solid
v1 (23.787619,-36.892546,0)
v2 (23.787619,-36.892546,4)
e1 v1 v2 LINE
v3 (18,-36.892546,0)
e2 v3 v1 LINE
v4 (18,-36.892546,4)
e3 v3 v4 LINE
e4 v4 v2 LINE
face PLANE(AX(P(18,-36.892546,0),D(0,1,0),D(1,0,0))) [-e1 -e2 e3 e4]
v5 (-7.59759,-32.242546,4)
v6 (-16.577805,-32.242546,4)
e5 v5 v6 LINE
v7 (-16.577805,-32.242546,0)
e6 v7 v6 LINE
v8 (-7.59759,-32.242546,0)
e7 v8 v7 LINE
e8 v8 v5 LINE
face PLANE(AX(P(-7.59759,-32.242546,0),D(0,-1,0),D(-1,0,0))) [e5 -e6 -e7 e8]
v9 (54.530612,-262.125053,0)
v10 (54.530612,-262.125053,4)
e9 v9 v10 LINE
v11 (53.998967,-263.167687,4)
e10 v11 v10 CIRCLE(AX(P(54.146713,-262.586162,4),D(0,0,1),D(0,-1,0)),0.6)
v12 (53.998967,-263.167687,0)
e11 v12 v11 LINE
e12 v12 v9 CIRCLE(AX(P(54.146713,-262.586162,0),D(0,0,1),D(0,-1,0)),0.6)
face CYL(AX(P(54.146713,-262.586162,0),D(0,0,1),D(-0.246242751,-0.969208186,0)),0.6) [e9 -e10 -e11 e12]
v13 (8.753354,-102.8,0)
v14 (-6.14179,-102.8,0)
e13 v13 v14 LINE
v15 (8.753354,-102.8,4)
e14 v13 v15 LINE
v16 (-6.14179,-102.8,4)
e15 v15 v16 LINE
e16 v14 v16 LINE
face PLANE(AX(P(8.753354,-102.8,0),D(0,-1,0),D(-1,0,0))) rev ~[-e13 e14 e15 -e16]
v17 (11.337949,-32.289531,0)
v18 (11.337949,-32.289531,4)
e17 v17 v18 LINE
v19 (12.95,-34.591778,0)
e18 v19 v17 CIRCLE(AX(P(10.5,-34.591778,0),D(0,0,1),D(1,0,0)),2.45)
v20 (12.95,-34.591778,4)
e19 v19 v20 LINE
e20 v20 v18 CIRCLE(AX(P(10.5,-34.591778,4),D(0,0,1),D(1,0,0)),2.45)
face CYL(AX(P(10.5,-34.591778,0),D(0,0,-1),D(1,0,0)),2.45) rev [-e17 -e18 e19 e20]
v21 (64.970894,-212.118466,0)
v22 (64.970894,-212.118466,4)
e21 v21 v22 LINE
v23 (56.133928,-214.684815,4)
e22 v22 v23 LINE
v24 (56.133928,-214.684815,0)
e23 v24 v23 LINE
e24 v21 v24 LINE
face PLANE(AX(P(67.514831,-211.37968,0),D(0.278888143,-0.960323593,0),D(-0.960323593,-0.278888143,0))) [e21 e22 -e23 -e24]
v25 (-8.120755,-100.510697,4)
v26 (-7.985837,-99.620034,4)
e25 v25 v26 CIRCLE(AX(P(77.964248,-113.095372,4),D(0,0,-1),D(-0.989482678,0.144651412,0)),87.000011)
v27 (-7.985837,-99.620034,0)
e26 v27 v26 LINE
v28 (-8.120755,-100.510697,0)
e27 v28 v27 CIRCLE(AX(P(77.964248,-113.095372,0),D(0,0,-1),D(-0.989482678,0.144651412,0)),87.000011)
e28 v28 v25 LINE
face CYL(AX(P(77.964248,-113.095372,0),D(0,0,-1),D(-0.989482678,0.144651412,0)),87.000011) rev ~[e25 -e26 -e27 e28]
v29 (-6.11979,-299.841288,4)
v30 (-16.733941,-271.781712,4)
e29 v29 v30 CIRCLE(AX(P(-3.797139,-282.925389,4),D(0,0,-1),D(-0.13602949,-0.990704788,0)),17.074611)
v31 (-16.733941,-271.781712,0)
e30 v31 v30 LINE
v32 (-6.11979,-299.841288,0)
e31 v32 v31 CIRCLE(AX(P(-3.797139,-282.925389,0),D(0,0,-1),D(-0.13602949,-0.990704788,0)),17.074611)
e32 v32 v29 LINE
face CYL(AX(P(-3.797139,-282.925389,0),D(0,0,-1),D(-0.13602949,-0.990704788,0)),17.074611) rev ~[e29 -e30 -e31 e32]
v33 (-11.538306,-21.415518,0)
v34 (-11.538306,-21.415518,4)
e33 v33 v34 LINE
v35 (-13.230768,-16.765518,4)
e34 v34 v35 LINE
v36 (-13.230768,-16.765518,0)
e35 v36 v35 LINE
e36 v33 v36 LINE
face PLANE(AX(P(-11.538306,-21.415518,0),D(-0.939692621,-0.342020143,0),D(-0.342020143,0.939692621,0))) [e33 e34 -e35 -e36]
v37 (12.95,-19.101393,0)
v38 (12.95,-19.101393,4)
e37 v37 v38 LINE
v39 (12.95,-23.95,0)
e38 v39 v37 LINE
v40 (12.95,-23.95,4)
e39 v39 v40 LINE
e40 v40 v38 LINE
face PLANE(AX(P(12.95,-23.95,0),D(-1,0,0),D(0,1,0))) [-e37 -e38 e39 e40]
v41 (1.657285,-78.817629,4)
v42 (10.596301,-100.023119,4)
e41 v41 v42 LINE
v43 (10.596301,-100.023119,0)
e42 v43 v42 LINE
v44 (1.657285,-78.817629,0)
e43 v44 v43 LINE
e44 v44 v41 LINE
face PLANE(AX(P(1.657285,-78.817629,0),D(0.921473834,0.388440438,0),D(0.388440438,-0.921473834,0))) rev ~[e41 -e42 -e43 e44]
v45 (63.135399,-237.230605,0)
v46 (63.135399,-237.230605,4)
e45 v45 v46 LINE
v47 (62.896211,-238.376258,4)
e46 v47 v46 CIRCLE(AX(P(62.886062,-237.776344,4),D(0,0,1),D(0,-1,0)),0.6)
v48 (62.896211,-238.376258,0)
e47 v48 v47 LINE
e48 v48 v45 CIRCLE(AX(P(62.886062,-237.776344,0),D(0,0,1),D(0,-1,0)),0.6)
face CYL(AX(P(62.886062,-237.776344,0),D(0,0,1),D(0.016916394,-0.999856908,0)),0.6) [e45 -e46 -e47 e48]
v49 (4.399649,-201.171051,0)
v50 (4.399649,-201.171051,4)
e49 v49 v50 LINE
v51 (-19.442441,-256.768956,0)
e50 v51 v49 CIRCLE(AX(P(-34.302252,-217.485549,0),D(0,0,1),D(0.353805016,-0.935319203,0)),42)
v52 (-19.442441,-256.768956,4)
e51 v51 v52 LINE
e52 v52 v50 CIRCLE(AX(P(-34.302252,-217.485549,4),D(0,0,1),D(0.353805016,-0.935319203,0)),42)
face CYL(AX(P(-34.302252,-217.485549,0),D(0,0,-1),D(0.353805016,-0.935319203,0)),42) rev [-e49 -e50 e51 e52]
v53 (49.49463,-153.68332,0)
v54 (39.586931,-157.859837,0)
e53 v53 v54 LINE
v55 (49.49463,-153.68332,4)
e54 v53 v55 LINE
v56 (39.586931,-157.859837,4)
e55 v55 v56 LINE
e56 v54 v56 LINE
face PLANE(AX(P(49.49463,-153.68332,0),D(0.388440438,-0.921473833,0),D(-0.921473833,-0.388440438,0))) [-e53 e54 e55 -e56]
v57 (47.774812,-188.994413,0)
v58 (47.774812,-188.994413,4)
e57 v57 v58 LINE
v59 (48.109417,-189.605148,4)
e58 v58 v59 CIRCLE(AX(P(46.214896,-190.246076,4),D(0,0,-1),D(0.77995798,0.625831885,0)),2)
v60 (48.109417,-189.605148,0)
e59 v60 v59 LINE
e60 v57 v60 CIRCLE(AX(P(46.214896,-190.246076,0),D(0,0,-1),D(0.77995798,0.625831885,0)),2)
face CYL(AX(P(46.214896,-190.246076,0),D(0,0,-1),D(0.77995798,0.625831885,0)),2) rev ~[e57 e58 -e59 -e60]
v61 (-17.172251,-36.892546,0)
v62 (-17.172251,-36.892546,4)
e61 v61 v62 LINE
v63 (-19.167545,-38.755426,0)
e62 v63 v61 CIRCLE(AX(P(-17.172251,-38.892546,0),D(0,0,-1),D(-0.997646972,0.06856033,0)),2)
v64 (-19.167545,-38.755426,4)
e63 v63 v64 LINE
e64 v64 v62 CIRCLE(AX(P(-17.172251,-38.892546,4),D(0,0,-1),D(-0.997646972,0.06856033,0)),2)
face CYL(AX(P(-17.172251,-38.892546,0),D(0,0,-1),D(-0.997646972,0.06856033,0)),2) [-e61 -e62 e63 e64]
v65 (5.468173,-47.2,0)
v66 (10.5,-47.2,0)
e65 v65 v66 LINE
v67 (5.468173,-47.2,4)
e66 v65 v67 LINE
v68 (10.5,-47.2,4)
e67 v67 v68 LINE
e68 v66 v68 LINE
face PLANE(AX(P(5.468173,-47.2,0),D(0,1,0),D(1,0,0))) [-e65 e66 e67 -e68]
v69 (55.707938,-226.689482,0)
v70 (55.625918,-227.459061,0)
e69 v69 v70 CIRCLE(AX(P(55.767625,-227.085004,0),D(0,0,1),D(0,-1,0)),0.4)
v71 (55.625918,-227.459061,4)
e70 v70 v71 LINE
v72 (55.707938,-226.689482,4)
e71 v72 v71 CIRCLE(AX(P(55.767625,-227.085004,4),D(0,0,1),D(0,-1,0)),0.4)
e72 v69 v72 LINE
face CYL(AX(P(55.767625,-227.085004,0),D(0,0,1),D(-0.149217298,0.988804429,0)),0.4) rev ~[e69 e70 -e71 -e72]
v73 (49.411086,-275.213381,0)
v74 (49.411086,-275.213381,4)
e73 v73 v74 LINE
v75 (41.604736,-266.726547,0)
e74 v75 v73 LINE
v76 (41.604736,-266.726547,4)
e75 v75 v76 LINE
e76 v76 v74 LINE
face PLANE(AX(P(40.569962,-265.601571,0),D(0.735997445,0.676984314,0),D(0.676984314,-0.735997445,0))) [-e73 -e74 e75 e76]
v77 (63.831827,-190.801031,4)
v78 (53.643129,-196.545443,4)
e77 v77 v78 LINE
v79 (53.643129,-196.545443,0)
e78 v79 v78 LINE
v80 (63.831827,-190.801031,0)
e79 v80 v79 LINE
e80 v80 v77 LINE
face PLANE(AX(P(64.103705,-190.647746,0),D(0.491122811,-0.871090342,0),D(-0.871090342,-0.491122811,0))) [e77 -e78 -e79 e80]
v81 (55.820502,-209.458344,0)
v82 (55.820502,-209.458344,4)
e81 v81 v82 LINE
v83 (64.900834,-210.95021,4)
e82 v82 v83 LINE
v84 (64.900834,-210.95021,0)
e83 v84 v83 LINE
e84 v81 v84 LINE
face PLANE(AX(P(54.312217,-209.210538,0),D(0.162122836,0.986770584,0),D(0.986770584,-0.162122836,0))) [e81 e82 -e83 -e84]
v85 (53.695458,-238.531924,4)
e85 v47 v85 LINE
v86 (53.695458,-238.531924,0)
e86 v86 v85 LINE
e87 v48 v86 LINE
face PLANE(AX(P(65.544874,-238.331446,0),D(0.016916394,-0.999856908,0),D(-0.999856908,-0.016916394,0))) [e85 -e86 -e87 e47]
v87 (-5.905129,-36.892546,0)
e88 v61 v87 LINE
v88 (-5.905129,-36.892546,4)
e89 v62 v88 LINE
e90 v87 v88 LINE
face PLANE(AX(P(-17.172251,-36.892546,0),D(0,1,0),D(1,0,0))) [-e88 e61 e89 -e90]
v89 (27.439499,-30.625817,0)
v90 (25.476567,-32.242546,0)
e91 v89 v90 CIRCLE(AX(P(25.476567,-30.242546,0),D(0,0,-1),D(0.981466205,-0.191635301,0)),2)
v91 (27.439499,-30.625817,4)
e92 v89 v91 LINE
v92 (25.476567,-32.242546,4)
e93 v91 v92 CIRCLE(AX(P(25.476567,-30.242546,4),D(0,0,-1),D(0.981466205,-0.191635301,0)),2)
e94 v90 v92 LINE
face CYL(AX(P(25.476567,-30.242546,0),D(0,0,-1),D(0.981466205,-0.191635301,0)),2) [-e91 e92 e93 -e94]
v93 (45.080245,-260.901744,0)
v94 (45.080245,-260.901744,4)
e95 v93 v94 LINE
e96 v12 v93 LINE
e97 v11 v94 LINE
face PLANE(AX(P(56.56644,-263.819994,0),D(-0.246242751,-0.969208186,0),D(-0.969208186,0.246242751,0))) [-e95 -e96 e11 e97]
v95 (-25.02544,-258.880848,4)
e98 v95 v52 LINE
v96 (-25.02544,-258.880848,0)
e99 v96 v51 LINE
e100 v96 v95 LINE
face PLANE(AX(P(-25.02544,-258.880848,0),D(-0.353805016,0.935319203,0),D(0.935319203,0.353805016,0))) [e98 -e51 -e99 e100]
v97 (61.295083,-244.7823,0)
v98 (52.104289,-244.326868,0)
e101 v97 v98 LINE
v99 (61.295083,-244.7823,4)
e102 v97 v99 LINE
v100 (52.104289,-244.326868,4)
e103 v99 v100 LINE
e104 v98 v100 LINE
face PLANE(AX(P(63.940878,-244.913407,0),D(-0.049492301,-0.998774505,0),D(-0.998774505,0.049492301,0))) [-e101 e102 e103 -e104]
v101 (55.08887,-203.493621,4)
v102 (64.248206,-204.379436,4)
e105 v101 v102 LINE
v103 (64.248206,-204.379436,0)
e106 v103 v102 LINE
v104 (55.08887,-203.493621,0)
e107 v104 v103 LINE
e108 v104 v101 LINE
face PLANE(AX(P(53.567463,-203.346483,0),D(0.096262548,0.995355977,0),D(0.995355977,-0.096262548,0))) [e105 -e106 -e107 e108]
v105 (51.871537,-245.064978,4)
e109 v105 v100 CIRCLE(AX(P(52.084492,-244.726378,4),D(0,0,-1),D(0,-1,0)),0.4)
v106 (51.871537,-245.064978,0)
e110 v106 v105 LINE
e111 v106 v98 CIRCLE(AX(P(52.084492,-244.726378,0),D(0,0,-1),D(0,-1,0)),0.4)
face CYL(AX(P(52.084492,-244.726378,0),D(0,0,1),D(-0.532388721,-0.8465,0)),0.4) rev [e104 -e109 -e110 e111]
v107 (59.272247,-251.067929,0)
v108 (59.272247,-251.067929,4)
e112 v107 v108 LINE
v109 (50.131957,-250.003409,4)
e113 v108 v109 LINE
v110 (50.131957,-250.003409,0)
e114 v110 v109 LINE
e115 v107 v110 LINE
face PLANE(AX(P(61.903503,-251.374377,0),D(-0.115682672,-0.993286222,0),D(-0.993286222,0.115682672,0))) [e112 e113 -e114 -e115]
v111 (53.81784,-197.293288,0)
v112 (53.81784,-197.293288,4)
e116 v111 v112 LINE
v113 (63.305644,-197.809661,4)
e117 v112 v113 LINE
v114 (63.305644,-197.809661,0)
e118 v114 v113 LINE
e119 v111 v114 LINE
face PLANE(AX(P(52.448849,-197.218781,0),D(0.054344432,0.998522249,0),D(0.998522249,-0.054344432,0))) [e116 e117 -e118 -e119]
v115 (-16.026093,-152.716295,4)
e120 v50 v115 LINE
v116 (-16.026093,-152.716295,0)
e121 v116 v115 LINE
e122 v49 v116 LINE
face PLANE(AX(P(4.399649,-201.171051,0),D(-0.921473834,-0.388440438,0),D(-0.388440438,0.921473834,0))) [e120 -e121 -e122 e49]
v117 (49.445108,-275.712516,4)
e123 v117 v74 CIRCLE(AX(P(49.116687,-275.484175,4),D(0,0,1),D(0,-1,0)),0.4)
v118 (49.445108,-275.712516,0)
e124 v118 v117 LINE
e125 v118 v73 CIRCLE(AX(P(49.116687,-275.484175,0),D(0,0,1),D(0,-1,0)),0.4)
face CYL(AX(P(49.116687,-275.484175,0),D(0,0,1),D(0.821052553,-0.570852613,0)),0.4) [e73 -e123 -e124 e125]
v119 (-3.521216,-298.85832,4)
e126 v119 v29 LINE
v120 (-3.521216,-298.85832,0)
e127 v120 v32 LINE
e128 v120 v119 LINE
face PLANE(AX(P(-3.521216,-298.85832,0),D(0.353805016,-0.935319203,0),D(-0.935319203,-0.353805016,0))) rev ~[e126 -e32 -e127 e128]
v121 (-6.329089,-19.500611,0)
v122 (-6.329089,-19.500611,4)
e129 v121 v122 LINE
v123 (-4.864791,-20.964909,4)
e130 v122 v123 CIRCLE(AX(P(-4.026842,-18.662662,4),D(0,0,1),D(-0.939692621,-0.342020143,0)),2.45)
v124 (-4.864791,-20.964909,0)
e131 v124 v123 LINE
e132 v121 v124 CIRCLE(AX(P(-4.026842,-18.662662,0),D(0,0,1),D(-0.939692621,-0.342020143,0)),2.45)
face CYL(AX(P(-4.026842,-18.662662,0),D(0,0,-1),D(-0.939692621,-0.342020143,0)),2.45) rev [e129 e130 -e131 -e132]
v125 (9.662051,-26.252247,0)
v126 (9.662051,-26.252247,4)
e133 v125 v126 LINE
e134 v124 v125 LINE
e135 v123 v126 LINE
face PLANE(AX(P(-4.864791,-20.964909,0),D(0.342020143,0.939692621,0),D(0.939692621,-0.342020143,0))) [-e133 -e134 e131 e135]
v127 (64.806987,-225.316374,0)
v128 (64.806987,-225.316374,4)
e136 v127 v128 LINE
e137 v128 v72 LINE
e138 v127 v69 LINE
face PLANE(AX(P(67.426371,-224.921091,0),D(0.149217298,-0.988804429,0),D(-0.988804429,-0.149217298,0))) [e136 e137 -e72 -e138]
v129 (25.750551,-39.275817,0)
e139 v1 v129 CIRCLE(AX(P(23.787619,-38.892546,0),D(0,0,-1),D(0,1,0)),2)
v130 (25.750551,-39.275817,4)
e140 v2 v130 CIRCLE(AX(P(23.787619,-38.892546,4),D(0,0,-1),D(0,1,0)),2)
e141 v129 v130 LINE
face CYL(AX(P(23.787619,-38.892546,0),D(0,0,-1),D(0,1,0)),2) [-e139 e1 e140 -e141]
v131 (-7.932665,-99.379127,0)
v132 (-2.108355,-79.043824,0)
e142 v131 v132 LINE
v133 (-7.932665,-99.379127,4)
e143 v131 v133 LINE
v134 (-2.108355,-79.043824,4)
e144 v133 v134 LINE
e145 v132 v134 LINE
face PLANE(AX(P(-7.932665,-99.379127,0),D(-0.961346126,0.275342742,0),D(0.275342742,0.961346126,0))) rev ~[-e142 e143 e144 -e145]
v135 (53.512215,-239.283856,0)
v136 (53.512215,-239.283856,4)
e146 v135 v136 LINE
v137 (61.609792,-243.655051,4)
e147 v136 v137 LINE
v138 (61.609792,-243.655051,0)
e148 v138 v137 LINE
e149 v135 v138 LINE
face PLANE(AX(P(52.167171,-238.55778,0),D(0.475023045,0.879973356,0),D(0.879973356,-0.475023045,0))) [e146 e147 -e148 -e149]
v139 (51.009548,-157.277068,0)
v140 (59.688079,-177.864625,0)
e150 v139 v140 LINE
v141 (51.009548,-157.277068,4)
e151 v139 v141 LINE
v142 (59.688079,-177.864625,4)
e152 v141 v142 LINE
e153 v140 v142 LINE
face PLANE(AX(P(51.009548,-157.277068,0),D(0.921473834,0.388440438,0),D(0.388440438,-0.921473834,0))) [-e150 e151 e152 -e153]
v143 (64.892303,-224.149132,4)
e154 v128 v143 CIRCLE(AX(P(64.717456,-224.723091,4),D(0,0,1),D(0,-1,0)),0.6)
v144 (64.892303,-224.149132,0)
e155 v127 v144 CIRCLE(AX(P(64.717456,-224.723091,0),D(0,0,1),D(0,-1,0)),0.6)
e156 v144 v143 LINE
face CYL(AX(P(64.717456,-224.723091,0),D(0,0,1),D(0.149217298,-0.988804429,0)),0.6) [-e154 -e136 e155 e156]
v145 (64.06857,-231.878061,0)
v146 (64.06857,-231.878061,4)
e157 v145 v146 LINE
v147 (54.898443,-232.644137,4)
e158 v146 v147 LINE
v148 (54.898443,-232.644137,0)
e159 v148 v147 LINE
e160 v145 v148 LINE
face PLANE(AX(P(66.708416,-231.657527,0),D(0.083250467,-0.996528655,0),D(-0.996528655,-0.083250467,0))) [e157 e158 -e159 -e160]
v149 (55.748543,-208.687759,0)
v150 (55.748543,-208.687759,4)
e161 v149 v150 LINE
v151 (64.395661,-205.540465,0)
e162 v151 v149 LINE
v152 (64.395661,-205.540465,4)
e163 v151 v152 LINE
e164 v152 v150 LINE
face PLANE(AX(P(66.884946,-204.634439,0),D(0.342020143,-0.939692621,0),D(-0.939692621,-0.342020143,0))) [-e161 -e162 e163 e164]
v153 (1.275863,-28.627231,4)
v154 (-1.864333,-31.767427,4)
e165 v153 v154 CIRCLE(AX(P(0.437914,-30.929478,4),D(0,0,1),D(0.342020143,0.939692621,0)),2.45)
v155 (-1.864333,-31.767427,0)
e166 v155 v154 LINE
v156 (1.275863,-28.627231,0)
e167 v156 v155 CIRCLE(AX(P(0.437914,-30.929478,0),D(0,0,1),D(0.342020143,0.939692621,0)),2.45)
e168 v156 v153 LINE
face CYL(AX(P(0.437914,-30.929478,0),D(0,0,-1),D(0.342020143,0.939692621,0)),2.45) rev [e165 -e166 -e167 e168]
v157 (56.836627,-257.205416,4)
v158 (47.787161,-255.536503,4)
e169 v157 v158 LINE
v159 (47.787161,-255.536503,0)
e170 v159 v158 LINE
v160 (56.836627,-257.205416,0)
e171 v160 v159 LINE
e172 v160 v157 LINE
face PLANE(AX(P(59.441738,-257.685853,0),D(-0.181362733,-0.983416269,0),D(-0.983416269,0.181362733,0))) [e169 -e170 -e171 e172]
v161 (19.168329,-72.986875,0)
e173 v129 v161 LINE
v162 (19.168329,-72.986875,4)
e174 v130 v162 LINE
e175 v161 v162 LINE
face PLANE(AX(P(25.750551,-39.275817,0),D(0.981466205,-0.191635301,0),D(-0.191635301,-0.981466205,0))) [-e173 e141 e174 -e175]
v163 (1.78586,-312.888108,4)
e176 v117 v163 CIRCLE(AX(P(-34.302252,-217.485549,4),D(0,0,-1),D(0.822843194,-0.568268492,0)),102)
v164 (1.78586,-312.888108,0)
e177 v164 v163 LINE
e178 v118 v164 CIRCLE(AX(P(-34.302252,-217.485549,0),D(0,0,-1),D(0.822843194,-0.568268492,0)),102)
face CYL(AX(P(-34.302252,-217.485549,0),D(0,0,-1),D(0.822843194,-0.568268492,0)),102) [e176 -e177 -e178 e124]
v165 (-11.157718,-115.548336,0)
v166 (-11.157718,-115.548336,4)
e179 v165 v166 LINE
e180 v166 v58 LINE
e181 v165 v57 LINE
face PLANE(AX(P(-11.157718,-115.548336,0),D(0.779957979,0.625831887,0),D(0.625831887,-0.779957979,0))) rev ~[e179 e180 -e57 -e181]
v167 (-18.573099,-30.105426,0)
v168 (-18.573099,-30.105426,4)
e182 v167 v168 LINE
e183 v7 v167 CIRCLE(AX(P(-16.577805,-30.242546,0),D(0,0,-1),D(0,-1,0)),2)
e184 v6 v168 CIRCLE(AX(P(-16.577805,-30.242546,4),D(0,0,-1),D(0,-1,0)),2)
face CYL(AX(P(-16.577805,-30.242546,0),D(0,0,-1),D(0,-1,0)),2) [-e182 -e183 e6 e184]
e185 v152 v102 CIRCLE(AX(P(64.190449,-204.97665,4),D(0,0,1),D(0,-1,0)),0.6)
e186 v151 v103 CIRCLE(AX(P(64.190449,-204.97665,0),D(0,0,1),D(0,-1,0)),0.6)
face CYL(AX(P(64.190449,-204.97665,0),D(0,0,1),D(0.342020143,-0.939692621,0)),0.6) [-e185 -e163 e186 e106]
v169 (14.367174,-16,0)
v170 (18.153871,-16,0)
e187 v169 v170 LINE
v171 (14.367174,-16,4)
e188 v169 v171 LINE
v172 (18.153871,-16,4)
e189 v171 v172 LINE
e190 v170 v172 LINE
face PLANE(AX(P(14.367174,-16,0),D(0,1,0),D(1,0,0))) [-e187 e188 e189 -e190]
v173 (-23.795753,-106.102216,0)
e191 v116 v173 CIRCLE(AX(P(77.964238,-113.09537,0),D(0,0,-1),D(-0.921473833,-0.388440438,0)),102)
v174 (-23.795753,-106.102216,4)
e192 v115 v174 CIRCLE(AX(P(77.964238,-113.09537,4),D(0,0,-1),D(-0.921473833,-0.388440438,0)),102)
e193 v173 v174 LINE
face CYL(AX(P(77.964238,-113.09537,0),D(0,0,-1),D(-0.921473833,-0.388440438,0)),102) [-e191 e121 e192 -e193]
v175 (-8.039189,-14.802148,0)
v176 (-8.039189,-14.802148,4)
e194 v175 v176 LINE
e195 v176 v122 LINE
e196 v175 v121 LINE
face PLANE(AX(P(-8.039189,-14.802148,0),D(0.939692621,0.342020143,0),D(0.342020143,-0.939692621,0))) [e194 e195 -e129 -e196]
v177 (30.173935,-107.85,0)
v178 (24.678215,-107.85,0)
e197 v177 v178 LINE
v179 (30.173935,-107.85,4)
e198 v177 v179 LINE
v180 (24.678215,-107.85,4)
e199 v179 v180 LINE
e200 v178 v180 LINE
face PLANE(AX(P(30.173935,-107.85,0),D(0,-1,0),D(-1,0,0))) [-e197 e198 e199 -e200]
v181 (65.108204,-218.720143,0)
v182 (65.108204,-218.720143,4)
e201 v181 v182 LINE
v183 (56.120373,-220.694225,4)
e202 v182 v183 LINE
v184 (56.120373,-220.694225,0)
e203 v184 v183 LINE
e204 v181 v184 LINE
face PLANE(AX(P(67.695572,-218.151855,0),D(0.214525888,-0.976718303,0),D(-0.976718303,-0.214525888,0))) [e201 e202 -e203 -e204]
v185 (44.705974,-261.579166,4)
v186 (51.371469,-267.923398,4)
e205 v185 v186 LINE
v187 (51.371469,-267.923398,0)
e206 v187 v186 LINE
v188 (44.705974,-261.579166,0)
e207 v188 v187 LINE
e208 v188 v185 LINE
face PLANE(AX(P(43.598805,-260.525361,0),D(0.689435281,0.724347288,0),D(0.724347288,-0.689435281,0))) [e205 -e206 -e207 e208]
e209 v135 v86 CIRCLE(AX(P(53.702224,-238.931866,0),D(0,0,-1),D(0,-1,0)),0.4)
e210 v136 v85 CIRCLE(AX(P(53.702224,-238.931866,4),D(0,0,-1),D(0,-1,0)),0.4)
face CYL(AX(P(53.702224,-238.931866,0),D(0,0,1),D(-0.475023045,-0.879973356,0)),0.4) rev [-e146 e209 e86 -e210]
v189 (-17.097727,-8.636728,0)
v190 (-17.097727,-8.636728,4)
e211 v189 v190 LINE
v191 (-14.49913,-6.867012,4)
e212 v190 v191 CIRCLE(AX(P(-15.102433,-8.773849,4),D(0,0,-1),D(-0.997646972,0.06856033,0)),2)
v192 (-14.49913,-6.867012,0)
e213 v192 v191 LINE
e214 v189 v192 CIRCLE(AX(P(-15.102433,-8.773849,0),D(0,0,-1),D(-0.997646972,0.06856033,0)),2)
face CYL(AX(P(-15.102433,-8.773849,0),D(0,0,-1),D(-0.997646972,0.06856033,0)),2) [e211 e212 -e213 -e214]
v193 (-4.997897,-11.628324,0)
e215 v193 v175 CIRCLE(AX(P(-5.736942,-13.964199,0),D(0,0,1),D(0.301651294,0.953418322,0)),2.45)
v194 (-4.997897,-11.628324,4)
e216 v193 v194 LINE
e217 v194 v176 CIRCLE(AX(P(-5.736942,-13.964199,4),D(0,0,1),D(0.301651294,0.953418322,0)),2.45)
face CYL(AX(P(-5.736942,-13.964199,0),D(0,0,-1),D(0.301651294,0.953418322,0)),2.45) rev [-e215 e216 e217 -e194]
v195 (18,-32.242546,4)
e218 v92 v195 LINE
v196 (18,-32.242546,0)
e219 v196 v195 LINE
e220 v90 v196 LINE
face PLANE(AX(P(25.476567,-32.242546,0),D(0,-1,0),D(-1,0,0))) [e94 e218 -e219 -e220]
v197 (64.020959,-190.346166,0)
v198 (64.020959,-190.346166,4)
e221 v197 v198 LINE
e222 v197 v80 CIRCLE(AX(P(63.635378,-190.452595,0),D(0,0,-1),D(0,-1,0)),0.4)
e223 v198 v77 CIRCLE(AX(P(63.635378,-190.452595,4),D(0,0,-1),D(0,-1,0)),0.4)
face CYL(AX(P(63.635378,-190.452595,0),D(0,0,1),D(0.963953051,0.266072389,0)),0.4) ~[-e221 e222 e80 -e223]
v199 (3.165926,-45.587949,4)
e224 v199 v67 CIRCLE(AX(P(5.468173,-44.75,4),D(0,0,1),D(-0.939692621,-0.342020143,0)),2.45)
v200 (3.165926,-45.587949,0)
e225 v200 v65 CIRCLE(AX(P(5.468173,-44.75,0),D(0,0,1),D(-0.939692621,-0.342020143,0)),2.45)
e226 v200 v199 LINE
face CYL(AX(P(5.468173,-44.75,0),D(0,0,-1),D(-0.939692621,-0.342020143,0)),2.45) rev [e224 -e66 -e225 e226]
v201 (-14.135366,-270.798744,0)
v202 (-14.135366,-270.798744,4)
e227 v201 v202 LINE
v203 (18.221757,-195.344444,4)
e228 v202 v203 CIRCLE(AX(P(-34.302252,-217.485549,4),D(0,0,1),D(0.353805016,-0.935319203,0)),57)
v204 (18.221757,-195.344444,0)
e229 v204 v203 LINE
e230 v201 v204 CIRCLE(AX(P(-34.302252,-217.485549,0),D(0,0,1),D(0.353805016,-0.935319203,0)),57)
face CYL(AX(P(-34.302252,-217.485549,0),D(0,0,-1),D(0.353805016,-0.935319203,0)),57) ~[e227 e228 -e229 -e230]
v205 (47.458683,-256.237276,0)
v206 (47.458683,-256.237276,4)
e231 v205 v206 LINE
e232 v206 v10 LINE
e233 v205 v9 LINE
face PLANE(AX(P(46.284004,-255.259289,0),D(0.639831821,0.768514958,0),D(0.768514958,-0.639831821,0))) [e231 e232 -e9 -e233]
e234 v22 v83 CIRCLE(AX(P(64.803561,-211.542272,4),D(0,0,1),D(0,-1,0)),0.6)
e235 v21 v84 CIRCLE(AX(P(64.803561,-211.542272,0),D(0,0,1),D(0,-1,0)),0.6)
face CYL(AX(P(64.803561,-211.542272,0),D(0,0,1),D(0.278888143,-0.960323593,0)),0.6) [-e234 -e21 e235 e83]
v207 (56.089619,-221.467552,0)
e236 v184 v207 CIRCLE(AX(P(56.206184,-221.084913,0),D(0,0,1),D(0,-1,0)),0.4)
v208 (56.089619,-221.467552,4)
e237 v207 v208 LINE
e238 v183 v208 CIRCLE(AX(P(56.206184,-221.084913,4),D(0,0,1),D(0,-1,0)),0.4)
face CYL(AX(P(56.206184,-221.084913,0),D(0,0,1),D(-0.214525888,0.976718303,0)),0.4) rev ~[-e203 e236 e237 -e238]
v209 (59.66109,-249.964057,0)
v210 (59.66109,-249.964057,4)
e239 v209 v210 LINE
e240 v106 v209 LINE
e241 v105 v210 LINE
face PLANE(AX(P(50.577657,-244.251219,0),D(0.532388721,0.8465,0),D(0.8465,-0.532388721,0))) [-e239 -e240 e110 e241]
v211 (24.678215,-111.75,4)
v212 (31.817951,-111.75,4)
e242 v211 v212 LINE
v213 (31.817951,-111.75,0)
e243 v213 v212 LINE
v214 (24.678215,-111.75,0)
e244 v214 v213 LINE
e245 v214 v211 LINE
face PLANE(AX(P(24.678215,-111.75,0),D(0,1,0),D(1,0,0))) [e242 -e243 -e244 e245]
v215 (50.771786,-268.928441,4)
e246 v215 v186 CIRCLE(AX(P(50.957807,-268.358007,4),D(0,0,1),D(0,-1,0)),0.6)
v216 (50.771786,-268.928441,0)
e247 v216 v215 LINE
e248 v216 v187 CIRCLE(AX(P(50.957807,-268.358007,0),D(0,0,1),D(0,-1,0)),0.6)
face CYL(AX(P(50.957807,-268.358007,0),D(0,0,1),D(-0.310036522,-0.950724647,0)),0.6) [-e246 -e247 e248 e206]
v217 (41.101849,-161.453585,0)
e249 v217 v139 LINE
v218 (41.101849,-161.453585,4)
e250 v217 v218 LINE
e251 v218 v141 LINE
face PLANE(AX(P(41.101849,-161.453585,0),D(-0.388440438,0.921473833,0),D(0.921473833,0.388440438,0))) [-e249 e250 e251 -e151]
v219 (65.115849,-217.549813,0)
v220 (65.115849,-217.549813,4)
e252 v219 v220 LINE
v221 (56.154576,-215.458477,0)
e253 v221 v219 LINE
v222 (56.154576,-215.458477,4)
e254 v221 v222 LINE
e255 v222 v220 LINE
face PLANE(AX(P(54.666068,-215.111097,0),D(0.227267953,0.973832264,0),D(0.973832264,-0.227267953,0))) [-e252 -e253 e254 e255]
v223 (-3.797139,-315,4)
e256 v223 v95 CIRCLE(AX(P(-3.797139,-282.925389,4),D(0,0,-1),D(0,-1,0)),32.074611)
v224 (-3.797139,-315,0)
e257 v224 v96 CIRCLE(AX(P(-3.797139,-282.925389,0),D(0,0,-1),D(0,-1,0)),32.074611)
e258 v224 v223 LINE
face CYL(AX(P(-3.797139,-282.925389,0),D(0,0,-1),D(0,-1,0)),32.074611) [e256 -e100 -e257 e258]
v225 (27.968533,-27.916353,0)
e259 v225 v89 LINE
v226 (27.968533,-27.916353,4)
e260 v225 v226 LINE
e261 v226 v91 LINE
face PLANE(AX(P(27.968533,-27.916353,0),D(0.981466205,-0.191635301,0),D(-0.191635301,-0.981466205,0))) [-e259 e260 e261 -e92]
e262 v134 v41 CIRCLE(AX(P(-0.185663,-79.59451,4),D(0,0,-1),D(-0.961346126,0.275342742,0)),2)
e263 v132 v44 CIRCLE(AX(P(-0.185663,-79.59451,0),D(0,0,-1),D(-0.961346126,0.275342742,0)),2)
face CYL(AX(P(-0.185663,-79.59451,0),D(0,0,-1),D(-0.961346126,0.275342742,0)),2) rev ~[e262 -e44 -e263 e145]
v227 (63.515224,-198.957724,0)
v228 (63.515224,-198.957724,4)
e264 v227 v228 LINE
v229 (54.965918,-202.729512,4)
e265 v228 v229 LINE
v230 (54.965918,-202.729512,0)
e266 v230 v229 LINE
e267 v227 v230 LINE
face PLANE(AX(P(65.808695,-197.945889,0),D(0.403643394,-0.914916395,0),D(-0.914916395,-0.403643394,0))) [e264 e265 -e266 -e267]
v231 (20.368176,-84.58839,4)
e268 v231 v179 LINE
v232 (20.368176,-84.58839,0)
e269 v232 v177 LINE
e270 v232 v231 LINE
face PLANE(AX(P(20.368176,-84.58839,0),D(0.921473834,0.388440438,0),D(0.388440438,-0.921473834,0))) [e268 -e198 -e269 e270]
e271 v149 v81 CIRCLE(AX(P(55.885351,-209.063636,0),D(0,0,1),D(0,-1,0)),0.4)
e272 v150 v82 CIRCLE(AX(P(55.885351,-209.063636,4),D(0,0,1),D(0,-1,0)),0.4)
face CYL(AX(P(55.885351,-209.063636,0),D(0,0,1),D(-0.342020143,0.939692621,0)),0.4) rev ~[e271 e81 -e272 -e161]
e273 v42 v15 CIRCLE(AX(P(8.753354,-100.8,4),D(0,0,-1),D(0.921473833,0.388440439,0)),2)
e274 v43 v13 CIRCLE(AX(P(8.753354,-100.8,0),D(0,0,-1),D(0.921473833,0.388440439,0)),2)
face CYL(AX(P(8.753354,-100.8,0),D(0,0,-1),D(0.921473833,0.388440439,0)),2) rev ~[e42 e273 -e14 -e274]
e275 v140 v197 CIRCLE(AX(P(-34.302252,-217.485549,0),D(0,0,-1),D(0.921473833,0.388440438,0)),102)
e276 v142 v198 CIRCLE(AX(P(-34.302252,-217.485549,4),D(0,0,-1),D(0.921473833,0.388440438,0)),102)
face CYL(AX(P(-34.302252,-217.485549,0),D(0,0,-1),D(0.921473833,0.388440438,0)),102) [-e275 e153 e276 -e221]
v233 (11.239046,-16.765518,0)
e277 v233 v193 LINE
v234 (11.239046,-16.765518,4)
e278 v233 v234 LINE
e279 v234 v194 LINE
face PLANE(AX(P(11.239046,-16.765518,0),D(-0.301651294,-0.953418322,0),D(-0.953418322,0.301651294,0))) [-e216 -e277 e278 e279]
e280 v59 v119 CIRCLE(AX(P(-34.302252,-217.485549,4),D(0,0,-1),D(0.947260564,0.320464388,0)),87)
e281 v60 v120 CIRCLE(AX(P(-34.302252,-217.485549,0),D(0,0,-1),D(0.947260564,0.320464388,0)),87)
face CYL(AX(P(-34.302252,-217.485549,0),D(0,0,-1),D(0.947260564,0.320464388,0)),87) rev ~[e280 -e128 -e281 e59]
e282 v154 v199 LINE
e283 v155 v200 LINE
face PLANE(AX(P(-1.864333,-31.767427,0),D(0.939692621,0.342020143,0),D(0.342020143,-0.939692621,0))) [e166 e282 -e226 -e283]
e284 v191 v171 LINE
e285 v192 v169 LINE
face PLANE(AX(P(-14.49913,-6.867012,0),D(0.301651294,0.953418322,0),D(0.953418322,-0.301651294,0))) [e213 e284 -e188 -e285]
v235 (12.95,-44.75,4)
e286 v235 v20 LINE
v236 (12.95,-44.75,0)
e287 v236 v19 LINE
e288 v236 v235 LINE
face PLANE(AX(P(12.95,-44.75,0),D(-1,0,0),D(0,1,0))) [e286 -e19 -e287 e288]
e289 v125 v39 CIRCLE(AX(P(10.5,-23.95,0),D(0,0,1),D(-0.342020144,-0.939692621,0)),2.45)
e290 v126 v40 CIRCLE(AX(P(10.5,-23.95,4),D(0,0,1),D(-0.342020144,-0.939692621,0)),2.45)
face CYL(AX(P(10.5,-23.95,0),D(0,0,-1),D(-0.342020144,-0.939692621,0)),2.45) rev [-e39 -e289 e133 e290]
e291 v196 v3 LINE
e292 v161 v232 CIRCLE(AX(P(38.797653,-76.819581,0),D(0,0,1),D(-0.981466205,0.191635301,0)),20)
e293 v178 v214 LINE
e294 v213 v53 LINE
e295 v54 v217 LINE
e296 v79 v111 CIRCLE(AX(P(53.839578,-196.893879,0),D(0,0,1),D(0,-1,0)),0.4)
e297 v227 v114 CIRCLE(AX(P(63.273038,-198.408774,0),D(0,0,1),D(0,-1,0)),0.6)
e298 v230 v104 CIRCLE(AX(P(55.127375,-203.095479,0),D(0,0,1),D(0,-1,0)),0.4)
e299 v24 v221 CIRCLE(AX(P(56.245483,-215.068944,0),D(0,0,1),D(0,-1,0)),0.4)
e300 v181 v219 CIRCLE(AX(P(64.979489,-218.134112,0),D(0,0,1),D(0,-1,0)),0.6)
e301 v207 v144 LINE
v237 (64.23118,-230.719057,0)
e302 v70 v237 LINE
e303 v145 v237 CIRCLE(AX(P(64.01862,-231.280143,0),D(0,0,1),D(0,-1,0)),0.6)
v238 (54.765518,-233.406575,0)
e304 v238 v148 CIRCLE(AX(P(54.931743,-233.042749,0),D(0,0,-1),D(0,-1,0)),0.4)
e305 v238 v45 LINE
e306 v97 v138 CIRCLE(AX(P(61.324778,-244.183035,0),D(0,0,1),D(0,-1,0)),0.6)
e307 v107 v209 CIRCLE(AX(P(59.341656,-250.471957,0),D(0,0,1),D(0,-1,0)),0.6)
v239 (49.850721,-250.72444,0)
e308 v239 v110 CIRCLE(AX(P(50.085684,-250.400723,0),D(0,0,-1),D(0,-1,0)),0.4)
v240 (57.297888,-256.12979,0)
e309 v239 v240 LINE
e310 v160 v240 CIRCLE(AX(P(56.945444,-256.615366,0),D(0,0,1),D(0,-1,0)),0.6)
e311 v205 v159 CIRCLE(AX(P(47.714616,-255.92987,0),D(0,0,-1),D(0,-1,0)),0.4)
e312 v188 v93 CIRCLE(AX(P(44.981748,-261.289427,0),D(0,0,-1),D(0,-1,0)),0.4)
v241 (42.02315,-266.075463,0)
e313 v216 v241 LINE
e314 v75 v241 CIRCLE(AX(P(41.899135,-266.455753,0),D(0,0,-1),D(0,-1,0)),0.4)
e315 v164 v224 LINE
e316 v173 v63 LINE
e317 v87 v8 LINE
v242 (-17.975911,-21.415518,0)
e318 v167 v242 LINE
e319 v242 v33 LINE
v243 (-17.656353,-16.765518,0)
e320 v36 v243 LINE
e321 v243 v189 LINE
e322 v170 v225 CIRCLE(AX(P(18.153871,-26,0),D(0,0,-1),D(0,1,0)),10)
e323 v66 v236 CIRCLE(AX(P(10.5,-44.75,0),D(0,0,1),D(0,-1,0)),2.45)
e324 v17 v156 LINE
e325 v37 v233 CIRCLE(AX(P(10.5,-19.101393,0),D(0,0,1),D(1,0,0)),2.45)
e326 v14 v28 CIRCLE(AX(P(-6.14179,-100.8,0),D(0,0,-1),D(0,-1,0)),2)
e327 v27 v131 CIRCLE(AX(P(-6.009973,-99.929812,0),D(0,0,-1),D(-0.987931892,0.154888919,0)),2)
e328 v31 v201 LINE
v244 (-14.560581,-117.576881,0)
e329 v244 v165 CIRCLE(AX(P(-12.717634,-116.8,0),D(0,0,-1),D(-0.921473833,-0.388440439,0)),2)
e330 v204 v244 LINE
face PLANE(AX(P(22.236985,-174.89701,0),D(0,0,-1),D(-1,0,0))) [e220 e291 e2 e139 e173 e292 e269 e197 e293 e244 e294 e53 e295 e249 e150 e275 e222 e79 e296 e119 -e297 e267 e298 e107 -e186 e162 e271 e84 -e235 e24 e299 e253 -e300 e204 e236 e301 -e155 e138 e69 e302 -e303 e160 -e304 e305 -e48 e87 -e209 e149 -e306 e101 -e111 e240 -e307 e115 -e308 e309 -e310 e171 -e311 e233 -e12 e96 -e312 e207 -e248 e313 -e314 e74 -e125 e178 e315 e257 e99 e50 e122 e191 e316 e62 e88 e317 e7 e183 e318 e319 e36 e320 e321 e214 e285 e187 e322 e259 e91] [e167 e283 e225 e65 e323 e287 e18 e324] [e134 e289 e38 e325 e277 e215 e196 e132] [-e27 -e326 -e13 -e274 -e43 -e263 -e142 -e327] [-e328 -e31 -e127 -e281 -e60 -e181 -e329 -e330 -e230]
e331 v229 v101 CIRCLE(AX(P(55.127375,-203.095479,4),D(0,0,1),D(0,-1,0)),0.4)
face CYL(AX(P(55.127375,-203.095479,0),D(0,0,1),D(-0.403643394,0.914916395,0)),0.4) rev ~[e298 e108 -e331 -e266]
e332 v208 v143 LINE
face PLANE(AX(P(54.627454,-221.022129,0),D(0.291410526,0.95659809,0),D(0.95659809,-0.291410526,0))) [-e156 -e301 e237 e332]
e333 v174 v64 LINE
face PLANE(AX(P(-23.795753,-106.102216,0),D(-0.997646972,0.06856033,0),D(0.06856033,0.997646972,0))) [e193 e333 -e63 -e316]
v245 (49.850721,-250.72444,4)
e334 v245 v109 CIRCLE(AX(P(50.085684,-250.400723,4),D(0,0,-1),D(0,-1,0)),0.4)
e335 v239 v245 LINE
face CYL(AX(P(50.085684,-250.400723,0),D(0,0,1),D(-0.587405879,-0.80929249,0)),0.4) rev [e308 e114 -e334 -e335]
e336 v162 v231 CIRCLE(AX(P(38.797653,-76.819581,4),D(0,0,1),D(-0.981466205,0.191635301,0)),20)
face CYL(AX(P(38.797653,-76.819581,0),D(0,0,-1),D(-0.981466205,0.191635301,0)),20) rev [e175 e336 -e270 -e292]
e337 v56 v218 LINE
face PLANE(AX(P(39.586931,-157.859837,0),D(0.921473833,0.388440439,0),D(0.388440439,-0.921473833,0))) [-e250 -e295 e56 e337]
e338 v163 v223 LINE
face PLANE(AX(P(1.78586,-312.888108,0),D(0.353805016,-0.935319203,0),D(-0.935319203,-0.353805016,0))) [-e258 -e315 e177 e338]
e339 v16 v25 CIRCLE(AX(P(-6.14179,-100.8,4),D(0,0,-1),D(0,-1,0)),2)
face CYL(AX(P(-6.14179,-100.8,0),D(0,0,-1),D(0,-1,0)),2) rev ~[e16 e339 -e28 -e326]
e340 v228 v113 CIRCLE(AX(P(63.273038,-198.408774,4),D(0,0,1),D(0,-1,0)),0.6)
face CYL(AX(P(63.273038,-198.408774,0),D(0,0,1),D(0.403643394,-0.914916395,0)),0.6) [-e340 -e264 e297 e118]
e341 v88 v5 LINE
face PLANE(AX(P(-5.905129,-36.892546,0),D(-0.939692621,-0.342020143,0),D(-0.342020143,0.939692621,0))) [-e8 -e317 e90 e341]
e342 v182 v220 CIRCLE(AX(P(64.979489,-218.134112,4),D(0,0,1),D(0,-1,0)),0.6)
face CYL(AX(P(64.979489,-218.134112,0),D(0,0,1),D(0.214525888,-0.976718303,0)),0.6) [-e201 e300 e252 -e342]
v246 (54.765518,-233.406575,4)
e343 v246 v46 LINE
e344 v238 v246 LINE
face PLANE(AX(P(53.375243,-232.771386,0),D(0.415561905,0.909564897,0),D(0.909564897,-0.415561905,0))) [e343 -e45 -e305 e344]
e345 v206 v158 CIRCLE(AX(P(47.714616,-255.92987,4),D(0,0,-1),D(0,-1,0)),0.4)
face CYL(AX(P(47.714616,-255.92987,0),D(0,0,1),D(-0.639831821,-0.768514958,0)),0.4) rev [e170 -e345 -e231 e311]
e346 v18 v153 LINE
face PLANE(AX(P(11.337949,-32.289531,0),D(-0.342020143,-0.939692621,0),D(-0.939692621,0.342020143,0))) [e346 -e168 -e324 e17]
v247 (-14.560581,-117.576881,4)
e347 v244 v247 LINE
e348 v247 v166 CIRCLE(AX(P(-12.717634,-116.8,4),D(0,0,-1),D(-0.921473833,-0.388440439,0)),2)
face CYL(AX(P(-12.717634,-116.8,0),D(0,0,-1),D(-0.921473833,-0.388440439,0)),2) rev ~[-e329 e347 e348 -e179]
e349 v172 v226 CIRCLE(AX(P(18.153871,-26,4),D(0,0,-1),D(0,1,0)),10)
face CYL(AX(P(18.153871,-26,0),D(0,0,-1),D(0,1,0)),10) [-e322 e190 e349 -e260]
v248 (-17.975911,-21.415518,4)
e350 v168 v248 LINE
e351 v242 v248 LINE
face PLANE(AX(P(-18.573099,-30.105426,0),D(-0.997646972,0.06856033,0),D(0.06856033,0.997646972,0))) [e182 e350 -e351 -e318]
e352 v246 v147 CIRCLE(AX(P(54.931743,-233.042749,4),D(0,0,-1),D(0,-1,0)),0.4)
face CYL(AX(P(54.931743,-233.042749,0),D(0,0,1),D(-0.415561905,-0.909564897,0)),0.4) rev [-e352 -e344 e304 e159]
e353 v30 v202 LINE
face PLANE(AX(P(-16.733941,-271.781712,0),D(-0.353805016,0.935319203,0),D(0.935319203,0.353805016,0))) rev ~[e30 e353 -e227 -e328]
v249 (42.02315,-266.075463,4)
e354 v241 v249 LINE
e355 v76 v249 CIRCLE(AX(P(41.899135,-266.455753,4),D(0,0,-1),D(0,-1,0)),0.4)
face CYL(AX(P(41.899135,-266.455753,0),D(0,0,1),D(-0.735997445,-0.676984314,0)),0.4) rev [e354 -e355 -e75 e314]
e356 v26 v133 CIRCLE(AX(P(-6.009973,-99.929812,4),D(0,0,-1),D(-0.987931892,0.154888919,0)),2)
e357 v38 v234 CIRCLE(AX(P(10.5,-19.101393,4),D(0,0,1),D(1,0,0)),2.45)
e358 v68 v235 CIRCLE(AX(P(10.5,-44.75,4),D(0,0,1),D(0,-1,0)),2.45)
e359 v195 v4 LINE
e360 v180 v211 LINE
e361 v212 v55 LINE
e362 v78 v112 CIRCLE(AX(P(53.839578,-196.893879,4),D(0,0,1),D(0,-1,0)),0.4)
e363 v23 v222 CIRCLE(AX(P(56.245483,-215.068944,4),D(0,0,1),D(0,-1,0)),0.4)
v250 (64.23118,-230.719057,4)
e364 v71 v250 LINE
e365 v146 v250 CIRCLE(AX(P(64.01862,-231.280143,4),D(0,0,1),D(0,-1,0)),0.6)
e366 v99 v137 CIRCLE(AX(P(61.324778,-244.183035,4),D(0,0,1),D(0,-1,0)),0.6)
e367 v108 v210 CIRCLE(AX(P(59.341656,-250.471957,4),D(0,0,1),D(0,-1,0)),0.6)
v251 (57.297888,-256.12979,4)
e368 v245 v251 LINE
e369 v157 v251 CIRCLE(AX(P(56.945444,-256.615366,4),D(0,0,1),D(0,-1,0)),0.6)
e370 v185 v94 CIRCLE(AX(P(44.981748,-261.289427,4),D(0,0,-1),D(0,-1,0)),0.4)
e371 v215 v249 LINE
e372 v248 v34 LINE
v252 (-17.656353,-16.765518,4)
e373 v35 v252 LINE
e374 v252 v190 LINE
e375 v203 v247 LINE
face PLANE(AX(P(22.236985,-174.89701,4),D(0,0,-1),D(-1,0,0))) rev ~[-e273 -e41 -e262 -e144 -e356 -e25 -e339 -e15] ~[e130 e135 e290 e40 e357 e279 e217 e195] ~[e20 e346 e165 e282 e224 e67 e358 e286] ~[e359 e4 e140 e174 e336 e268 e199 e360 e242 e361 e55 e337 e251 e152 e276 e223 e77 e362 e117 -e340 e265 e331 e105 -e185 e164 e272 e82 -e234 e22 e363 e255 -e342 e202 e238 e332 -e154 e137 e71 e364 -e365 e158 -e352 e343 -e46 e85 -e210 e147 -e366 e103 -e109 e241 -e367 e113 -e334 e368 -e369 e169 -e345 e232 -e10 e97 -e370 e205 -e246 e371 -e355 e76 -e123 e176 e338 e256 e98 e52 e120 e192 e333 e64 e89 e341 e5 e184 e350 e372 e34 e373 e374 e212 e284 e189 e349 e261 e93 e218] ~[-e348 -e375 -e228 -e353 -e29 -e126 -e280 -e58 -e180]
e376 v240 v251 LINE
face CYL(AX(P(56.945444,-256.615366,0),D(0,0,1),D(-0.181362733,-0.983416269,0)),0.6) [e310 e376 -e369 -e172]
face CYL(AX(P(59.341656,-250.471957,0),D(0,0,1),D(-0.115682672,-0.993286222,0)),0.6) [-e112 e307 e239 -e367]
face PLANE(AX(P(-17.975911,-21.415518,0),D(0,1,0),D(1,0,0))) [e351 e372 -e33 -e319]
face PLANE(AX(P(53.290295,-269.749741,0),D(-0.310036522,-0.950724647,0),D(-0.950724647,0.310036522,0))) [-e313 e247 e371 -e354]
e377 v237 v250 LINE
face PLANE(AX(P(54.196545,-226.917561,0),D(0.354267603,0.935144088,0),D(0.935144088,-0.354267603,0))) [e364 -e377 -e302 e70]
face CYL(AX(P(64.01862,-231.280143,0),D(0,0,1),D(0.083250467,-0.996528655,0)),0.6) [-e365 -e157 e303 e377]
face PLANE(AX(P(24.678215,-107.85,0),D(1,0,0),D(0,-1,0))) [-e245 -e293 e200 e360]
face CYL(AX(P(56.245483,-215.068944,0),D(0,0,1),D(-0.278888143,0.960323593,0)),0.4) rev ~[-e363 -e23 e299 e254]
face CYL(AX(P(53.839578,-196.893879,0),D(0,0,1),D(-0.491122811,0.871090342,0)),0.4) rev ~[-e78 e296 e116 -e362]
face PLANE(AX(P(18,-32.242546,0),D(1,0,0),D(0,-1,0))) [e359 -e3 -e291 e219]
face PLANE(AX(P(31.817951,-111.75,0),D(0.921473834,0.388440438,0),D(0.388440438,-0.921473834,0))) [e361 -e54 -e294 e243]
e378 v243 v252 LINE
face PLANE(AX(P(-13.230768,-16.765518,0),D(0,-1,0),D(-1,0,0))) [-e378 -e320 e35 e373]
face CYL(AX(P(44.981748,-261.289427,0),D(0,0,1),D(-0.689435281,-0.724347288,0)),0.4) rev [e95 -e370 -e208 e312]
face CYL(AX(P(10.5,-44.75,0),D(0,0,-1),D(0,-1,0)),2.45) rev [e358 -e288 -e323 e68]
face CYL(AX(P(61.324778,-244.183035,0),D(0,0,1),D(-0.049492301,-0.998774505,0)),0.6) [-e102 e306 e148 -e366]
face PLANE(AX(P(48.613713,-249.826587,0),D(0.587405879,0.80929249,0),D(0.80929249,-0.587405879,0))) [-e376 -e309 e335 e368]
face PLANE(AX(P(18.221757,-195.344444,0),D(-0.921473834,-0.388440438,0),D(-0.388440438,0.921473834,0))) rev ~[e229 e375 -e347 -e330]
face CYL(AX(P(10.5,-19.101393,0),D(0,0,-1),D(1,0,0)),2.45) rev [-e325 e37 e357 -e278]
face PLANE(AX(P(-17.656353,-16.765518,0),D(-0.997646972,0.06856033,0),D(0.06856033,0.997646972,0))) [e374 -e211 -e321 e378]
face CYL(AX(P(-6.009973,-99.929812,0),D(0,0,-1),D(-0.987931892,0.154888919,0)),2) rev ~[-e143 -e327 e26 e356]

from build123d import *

# Parameters (mm, degrees)
BOSS_EXTRUDE1_DEPTH = 4
FILLET1_R           = 0.4
FILLET2_R           = 0.6


with BuildPart() as part:
    # Sketch1 → Boss-Extrude1 (new body)
    with BuildSketch(Plane.XY):
        with BuildLine():
            Line((-14.499129977, -6.867012113), (14.367174161, -16))
            Line((14.367174161, -16), (18.15387109, -16))
            ThreePointArc((18.15387109, -16), (25.872793622, -19.642466284), (27.968533139, -27.91635301))
            Line((27.968533139, -27.91635301), (27.439499229, -30.625816775))
            ThreePointArc((27.439499229, -30.625816775), (26.748073563, -31.786330679), (25.476566819, -32.242546173))
            Line((25.476566819, -32.242546173), (18, -32.242546173))
            Line((18, -32.242546173), (18, -36.892546173))
            Line((18, -36.892546173), (23.78761885, -36.892546173))
            ThreePointArc((23.78761885, -36.892546173), (25.331403357, -37.62103943), (25.75055126, -39.275816775))
            Line((25.75055126, -39.275816775), (19.168328866, -72.986875227))
            ThreePointArc((19.168328866, -72.986875227), (18.903762814, -78.877039551), (20.368176295, -84.588390014))
            Line((20.368176295, -84.588390014), (30.173934909, -107.85))
            Line((30.173934909, -107.85), (24.678215229, -107.85))
            Line((24.678215229, -107.85), (24.678215229, -111.75))
            Line((24.678215229, -111.75), (31.817950891, -111.75))
            Line((31.817950891, -111.75), (49.494630027, -153.683320214))
            Line((49.494630027, -153.683320214), (39.586931175, -157.859836948))
            Line((39.586931175, -157.859836948), (41.101848885, -161.453584898))
            Line((41.101848885, -161.453584898), (51.009547737, -157.277068164))
            Line((51.009547737, -157.277068164), (59.688079015, -177.864624701))
            ThreePointArc((59.688079015, -177.864624701), (62.10799078, -184.18292059), (64.103704557, -190.647745599))
            Line((64.103704557, -190.647745599), (52.448848585, -197.218781175))
            Line((52.448848585, -197.218781175), (65.808694789, -197.945888914))
            Line((65.808694789, -197.945888914), (53.567462973, -203.346483316))
            Line((53.567462973, -203.346483316), (66.884945667, -204.634439433))
            Line((66.884945667, -204.634439433), (54.312217418, -209.210538279))
            Line((54.312217418, -209.210538279), (67.514830834, -211.379679878))
            Line((67.514830834, -211.379679878), (54.666068058, -215.111096686))
            Line((54.666068058, -215.111096686), (67.695571684, -218.151855063))
            Line((67.695571684, -218.151855063), (54.627453954, -221.022129484))
            Line((54.627453954, -221.022129484), (67.42637092, -224.921090983))
            Line((67.42637092, -224.921090983), (54.196545445, -226.917561415))
            Line((54.196545445, -226.917561415), (66.708416062, -231.657526599))
            Line((66.708416062, -231.657526599), (53.375243393, -232.771386039))
            Line((53.375243393, -232.771386039), (65.544874215, -238.331445565))
            Line((65.544874215, -238.331445565), (52.167170795, -238.557780459))
            Line((52.167170795, -238.557780459), (63.940878095, -244.913407312))
            Line((63.940878095, -244.913407312), (50.577656806, -244.251219233))
            Line((50.577656806, -244.251219233), (61.903503389, -251.374376921))
            Line((61.903503389, -251.374376921), (48.613713227, -249.826586971))
            Line((48.613713227, -249.826586971), (59.44173754, -257.685853206))
            Line((59.44173754, -257.685853206), (46.284003576, -255.259289128))
            Line((46.284003576, -255.259289128), (56.566440102, -263.819994437))
            Line((56.566440102, -263.819994437), (43.59880487, -260.525360501))
            Line((43.59880487, -260.525360501), (53.290294836, -269.749741158))
            Line((53.290294836, -269.749741158), (40.569962289, -265.601570939))
            Line((40.569962289, -265.601570939), (49.627753757, -275.448935561))
            ThreePointArc((49.627753757, -275.448935561), (28.558785484, -297.812941794), (1.785859605, -312.888108085))
            Line((1.785859605, -312.888108085), (-3.79713943, -315))
            ThreePointArc((-3.79713943, -315), (-33.79713943, -294.273546964), (-25.025440375, -258.880847842))
            Line((-25.025440375, -258.880847842), (-19.44244134, -256.768955927))
            ThreePointArc((-19.44244134, -256.768955927), (4.29821428, -234.038615683), (4.399649005, -201.171051004))
            Line((4.399649005, -201.171051004), (-16.026093015, -152.716294646))
            ThreePointArc((-16.026093015, -152.716294646), (-22.647715731, -129.865425568), (-23.795753165, -106.102216294))
            Line((-23.795753165, -106.102216294), (-19.167544676, -38.755425513))
            ThreePointArc((-19.167544676, -38.755425513), (-18.537124111, -37.430656759), (-17.172250732, -36.892546173))
            Line((-17.172250732, -36.892546173), (-5.905128728, -36.892546173))
            Line((-5.905128728, -36.892546173), (-7.597590317, -32.242546173))
            Line((-7.597590317, -32.242546173), (-16.577805132, -32.242546173))
            ThreePointArc((-16.577805132, -32.242546173), (-18.039694546, -31.607419552), (-18.573099077, -30.105425513))
            Line((-18.573099077, -30.105425513), (-17.975910939, -21.415517819))
            Line((-17.975910939, -21.415517819), (-11.538306364, -21.415517819))
            Line((-11.538306364, -21.415517819), (-13.230767953, -16.765517819))
            Line((-13.230767953, -16.765517819), (-17.656353478, -16.765517819))
            Line((-17.656353478, -16.765517819), (-17.097726509, -8.636728098))
            ThreePointArc((-17.097726509, -8.636728098), (-16.228213916, -7.12078604), (-14.499129977, -6.867012113))
        make_face()
        with BuildLine():
            Line((-8.039189398, -14.802148248), (-6.329088682, -19.500611352))
            ThreePointArc((-6.329088682, -19.500611352), (-5.759253375, -20.395073615), (-4.864791112, -20.964908922))
            Line((-4.864791112, -20.964908922), (9.662050649, -26.252246921))
            ThreePointArc((9.662050649, -26.252246921), (11.905262269, -25.956922509), (12.95, -23.95))
            Line((12.95, -23.95), (12.95, -19.101392708))
            ThreePointArc((12.95, -19.101392708), (12.476507259, -17.653663778), (11.23904567, -16.765517819))
            Line((11.23904567, -16.765517819), (-4.997896808, -11.628324008))
            ThreePointArc((-4.997896808, -11.628324008), (-7.505894036, -12.269114715), (-8.039189398, -14.802148248))
        make_face(mode=Mode.SUBTRACT)
        with BuildLine():
            Line((-1.8643328, -31.767427321), (3.165925841, -45.587949351))
            ThreePointArc((3.165925841, -45.587949351), (4.062910493, -46.756922509), (5.468172762, -47.2))
            Line((5.468172762, -47.2), (10.5, -47.2))
            ThreePointArc((10.5, -47.2), (12.232411614, -46.482411614), (12.95, -44.75))
            Line((12.95, -44.75), (12.95, -34.591777725))
            ThreePointArc((12.95, -34.591777725), (12.506922509, -33.186515456), (11.337949351, -32.289530804))
            Line((11.337949351, -32.289530804), (1.275863472, -28.627231049))
            ThreePointArc((1.275863472, -28.627231049), (-1.294497493, -29.197066356), (-1.8643328, -31.767427321))
        make_face(mode=Mode.SUBTRACT)
        with BuildLine():
            Line((1.657284816, -78.8176291), (10.596301358, -100.023119123))
            ThreePointArc((10.596301358, -100.023119123), (10.419751266, -101.905947161), (8.753353691, -102.8))
            Line((8.753353691, -102.8), (-6.141789596, -102.8))
            ThreePointArc((-6.141789596, -102.8), (-7.654833819, -102.107936229), (-8.120754951, -100.510697178))
            ThreePointArc((-8.120754951, -100.510697178), (-8.05444857, -100.065191098), (-7.985836627, -99.620034266))
            ThreePointArc((-7.985836627, -99.620034266), (-7.962968981, -99.498759801), (-7.932665095, -99.379126613))
            Line((-7.932665095, -99.379126613), (-2.108355103, -79.043824493))
            ThreePointArc((-2.108355103, -79.043824493), (-0.305583194, -77.598108436), (1.657284816, -78.8176291))
        make_face(mode=Mode.SUBTRACT)
        with BuildLine():
            Line((-3.521215631, -298.858320046), (-6.119790114, -299.841287875))
            ThreePointArc((-6.119790114, -299.841287875), (-19.76735139, -288.966471728), (-16.733940587, -271.781711796))
            Line((-16.733940587, -271.781711796), (-14.135366104, -270.798743967))
            ThreePointArc((-14.135366104, -270.798743967), (18.084095095, -239.950425064), (18.221756508, -195.344444428))
            Line((18.221756508, -195.344444428), (-14.560581286, -117.576880877))
            ThreePointArc((-14.560581286, -117.576880877), (-13.741730826, -115.082087048), (-11.157717662, -115.548336225))
            Line((-11.157717662, -115.548336225), (47.774811887, -188.994412647))
            ThreePointArc((47.774811887, -188.994412647), (47.968900833, -189.285104624), (48.109417057, -189.605147645))
            ThreePointArc((48.109417057, -189.605147645), (44.356574969, -254.657971176), (-3.521215631, -298.858320046))
        make_face(mode=Mode.SUBTRACT)
    extrude(amount=BOSS_EXTRUDE1_DEPTH)

    # Fillet1
    fillet1_edges = [part.edges().sort_by_distance(p)[0] for p in [
        (64.103704557, -190.647745599, 2),
        (49.627753757, -275.448935561, 2),
        (40.569962289, -265.601570939, 2),
        (43.59880487, -260.525360501, 2),
        (46.284003576, -255.259289128, 2),
        (48.613713227, -249.826586971, 2),
        (50.577656806, -244.251219233, 2),
        (52.167170795, -238.557780459, 2),
        (53.375243393, -232.771386039, 2),
        (54.196545445, -226.917561415, 2),
        (54.627453954, -221.022129484, 2),
        (54.666068058, -215.111096686, 2),
        (54.312217418, -209.210538279, 2),
        (53.567462973, -203.346483316, 2),
        (52.448848585, -197.218781175, 2),
    ]]
    fillet(fillet1_edges, radius=FILLET1_R)

    # Fillet2
    fillet2_edges = [part.edges().sort_by_distance(p)[0] for p in [
        (53.290294836, -269.749741158, 2),
        (56.566440102, -263.819994437, 2),
        (59.44173754, -257.685853206, 2),
        (61.903503389, -251.374376921, 2),
        (63.940878095, -244.913407312, 2),
        (65.544874215, -238.331445565, 2),
        (66.708416062, -231.657526599, 2),
        (67.42637092, -224.921090983, 2),
        (67.695571684, -218.151855063, 2),
        (67.514830834, -211.379679878, 2),
        (66.884945667, -204.634439433, 2),
        (65.808694789, -197.945888914, 2),
    ]]
    fillet(fillet2_edges, radius=FILLET2_R)


solid = part.part
